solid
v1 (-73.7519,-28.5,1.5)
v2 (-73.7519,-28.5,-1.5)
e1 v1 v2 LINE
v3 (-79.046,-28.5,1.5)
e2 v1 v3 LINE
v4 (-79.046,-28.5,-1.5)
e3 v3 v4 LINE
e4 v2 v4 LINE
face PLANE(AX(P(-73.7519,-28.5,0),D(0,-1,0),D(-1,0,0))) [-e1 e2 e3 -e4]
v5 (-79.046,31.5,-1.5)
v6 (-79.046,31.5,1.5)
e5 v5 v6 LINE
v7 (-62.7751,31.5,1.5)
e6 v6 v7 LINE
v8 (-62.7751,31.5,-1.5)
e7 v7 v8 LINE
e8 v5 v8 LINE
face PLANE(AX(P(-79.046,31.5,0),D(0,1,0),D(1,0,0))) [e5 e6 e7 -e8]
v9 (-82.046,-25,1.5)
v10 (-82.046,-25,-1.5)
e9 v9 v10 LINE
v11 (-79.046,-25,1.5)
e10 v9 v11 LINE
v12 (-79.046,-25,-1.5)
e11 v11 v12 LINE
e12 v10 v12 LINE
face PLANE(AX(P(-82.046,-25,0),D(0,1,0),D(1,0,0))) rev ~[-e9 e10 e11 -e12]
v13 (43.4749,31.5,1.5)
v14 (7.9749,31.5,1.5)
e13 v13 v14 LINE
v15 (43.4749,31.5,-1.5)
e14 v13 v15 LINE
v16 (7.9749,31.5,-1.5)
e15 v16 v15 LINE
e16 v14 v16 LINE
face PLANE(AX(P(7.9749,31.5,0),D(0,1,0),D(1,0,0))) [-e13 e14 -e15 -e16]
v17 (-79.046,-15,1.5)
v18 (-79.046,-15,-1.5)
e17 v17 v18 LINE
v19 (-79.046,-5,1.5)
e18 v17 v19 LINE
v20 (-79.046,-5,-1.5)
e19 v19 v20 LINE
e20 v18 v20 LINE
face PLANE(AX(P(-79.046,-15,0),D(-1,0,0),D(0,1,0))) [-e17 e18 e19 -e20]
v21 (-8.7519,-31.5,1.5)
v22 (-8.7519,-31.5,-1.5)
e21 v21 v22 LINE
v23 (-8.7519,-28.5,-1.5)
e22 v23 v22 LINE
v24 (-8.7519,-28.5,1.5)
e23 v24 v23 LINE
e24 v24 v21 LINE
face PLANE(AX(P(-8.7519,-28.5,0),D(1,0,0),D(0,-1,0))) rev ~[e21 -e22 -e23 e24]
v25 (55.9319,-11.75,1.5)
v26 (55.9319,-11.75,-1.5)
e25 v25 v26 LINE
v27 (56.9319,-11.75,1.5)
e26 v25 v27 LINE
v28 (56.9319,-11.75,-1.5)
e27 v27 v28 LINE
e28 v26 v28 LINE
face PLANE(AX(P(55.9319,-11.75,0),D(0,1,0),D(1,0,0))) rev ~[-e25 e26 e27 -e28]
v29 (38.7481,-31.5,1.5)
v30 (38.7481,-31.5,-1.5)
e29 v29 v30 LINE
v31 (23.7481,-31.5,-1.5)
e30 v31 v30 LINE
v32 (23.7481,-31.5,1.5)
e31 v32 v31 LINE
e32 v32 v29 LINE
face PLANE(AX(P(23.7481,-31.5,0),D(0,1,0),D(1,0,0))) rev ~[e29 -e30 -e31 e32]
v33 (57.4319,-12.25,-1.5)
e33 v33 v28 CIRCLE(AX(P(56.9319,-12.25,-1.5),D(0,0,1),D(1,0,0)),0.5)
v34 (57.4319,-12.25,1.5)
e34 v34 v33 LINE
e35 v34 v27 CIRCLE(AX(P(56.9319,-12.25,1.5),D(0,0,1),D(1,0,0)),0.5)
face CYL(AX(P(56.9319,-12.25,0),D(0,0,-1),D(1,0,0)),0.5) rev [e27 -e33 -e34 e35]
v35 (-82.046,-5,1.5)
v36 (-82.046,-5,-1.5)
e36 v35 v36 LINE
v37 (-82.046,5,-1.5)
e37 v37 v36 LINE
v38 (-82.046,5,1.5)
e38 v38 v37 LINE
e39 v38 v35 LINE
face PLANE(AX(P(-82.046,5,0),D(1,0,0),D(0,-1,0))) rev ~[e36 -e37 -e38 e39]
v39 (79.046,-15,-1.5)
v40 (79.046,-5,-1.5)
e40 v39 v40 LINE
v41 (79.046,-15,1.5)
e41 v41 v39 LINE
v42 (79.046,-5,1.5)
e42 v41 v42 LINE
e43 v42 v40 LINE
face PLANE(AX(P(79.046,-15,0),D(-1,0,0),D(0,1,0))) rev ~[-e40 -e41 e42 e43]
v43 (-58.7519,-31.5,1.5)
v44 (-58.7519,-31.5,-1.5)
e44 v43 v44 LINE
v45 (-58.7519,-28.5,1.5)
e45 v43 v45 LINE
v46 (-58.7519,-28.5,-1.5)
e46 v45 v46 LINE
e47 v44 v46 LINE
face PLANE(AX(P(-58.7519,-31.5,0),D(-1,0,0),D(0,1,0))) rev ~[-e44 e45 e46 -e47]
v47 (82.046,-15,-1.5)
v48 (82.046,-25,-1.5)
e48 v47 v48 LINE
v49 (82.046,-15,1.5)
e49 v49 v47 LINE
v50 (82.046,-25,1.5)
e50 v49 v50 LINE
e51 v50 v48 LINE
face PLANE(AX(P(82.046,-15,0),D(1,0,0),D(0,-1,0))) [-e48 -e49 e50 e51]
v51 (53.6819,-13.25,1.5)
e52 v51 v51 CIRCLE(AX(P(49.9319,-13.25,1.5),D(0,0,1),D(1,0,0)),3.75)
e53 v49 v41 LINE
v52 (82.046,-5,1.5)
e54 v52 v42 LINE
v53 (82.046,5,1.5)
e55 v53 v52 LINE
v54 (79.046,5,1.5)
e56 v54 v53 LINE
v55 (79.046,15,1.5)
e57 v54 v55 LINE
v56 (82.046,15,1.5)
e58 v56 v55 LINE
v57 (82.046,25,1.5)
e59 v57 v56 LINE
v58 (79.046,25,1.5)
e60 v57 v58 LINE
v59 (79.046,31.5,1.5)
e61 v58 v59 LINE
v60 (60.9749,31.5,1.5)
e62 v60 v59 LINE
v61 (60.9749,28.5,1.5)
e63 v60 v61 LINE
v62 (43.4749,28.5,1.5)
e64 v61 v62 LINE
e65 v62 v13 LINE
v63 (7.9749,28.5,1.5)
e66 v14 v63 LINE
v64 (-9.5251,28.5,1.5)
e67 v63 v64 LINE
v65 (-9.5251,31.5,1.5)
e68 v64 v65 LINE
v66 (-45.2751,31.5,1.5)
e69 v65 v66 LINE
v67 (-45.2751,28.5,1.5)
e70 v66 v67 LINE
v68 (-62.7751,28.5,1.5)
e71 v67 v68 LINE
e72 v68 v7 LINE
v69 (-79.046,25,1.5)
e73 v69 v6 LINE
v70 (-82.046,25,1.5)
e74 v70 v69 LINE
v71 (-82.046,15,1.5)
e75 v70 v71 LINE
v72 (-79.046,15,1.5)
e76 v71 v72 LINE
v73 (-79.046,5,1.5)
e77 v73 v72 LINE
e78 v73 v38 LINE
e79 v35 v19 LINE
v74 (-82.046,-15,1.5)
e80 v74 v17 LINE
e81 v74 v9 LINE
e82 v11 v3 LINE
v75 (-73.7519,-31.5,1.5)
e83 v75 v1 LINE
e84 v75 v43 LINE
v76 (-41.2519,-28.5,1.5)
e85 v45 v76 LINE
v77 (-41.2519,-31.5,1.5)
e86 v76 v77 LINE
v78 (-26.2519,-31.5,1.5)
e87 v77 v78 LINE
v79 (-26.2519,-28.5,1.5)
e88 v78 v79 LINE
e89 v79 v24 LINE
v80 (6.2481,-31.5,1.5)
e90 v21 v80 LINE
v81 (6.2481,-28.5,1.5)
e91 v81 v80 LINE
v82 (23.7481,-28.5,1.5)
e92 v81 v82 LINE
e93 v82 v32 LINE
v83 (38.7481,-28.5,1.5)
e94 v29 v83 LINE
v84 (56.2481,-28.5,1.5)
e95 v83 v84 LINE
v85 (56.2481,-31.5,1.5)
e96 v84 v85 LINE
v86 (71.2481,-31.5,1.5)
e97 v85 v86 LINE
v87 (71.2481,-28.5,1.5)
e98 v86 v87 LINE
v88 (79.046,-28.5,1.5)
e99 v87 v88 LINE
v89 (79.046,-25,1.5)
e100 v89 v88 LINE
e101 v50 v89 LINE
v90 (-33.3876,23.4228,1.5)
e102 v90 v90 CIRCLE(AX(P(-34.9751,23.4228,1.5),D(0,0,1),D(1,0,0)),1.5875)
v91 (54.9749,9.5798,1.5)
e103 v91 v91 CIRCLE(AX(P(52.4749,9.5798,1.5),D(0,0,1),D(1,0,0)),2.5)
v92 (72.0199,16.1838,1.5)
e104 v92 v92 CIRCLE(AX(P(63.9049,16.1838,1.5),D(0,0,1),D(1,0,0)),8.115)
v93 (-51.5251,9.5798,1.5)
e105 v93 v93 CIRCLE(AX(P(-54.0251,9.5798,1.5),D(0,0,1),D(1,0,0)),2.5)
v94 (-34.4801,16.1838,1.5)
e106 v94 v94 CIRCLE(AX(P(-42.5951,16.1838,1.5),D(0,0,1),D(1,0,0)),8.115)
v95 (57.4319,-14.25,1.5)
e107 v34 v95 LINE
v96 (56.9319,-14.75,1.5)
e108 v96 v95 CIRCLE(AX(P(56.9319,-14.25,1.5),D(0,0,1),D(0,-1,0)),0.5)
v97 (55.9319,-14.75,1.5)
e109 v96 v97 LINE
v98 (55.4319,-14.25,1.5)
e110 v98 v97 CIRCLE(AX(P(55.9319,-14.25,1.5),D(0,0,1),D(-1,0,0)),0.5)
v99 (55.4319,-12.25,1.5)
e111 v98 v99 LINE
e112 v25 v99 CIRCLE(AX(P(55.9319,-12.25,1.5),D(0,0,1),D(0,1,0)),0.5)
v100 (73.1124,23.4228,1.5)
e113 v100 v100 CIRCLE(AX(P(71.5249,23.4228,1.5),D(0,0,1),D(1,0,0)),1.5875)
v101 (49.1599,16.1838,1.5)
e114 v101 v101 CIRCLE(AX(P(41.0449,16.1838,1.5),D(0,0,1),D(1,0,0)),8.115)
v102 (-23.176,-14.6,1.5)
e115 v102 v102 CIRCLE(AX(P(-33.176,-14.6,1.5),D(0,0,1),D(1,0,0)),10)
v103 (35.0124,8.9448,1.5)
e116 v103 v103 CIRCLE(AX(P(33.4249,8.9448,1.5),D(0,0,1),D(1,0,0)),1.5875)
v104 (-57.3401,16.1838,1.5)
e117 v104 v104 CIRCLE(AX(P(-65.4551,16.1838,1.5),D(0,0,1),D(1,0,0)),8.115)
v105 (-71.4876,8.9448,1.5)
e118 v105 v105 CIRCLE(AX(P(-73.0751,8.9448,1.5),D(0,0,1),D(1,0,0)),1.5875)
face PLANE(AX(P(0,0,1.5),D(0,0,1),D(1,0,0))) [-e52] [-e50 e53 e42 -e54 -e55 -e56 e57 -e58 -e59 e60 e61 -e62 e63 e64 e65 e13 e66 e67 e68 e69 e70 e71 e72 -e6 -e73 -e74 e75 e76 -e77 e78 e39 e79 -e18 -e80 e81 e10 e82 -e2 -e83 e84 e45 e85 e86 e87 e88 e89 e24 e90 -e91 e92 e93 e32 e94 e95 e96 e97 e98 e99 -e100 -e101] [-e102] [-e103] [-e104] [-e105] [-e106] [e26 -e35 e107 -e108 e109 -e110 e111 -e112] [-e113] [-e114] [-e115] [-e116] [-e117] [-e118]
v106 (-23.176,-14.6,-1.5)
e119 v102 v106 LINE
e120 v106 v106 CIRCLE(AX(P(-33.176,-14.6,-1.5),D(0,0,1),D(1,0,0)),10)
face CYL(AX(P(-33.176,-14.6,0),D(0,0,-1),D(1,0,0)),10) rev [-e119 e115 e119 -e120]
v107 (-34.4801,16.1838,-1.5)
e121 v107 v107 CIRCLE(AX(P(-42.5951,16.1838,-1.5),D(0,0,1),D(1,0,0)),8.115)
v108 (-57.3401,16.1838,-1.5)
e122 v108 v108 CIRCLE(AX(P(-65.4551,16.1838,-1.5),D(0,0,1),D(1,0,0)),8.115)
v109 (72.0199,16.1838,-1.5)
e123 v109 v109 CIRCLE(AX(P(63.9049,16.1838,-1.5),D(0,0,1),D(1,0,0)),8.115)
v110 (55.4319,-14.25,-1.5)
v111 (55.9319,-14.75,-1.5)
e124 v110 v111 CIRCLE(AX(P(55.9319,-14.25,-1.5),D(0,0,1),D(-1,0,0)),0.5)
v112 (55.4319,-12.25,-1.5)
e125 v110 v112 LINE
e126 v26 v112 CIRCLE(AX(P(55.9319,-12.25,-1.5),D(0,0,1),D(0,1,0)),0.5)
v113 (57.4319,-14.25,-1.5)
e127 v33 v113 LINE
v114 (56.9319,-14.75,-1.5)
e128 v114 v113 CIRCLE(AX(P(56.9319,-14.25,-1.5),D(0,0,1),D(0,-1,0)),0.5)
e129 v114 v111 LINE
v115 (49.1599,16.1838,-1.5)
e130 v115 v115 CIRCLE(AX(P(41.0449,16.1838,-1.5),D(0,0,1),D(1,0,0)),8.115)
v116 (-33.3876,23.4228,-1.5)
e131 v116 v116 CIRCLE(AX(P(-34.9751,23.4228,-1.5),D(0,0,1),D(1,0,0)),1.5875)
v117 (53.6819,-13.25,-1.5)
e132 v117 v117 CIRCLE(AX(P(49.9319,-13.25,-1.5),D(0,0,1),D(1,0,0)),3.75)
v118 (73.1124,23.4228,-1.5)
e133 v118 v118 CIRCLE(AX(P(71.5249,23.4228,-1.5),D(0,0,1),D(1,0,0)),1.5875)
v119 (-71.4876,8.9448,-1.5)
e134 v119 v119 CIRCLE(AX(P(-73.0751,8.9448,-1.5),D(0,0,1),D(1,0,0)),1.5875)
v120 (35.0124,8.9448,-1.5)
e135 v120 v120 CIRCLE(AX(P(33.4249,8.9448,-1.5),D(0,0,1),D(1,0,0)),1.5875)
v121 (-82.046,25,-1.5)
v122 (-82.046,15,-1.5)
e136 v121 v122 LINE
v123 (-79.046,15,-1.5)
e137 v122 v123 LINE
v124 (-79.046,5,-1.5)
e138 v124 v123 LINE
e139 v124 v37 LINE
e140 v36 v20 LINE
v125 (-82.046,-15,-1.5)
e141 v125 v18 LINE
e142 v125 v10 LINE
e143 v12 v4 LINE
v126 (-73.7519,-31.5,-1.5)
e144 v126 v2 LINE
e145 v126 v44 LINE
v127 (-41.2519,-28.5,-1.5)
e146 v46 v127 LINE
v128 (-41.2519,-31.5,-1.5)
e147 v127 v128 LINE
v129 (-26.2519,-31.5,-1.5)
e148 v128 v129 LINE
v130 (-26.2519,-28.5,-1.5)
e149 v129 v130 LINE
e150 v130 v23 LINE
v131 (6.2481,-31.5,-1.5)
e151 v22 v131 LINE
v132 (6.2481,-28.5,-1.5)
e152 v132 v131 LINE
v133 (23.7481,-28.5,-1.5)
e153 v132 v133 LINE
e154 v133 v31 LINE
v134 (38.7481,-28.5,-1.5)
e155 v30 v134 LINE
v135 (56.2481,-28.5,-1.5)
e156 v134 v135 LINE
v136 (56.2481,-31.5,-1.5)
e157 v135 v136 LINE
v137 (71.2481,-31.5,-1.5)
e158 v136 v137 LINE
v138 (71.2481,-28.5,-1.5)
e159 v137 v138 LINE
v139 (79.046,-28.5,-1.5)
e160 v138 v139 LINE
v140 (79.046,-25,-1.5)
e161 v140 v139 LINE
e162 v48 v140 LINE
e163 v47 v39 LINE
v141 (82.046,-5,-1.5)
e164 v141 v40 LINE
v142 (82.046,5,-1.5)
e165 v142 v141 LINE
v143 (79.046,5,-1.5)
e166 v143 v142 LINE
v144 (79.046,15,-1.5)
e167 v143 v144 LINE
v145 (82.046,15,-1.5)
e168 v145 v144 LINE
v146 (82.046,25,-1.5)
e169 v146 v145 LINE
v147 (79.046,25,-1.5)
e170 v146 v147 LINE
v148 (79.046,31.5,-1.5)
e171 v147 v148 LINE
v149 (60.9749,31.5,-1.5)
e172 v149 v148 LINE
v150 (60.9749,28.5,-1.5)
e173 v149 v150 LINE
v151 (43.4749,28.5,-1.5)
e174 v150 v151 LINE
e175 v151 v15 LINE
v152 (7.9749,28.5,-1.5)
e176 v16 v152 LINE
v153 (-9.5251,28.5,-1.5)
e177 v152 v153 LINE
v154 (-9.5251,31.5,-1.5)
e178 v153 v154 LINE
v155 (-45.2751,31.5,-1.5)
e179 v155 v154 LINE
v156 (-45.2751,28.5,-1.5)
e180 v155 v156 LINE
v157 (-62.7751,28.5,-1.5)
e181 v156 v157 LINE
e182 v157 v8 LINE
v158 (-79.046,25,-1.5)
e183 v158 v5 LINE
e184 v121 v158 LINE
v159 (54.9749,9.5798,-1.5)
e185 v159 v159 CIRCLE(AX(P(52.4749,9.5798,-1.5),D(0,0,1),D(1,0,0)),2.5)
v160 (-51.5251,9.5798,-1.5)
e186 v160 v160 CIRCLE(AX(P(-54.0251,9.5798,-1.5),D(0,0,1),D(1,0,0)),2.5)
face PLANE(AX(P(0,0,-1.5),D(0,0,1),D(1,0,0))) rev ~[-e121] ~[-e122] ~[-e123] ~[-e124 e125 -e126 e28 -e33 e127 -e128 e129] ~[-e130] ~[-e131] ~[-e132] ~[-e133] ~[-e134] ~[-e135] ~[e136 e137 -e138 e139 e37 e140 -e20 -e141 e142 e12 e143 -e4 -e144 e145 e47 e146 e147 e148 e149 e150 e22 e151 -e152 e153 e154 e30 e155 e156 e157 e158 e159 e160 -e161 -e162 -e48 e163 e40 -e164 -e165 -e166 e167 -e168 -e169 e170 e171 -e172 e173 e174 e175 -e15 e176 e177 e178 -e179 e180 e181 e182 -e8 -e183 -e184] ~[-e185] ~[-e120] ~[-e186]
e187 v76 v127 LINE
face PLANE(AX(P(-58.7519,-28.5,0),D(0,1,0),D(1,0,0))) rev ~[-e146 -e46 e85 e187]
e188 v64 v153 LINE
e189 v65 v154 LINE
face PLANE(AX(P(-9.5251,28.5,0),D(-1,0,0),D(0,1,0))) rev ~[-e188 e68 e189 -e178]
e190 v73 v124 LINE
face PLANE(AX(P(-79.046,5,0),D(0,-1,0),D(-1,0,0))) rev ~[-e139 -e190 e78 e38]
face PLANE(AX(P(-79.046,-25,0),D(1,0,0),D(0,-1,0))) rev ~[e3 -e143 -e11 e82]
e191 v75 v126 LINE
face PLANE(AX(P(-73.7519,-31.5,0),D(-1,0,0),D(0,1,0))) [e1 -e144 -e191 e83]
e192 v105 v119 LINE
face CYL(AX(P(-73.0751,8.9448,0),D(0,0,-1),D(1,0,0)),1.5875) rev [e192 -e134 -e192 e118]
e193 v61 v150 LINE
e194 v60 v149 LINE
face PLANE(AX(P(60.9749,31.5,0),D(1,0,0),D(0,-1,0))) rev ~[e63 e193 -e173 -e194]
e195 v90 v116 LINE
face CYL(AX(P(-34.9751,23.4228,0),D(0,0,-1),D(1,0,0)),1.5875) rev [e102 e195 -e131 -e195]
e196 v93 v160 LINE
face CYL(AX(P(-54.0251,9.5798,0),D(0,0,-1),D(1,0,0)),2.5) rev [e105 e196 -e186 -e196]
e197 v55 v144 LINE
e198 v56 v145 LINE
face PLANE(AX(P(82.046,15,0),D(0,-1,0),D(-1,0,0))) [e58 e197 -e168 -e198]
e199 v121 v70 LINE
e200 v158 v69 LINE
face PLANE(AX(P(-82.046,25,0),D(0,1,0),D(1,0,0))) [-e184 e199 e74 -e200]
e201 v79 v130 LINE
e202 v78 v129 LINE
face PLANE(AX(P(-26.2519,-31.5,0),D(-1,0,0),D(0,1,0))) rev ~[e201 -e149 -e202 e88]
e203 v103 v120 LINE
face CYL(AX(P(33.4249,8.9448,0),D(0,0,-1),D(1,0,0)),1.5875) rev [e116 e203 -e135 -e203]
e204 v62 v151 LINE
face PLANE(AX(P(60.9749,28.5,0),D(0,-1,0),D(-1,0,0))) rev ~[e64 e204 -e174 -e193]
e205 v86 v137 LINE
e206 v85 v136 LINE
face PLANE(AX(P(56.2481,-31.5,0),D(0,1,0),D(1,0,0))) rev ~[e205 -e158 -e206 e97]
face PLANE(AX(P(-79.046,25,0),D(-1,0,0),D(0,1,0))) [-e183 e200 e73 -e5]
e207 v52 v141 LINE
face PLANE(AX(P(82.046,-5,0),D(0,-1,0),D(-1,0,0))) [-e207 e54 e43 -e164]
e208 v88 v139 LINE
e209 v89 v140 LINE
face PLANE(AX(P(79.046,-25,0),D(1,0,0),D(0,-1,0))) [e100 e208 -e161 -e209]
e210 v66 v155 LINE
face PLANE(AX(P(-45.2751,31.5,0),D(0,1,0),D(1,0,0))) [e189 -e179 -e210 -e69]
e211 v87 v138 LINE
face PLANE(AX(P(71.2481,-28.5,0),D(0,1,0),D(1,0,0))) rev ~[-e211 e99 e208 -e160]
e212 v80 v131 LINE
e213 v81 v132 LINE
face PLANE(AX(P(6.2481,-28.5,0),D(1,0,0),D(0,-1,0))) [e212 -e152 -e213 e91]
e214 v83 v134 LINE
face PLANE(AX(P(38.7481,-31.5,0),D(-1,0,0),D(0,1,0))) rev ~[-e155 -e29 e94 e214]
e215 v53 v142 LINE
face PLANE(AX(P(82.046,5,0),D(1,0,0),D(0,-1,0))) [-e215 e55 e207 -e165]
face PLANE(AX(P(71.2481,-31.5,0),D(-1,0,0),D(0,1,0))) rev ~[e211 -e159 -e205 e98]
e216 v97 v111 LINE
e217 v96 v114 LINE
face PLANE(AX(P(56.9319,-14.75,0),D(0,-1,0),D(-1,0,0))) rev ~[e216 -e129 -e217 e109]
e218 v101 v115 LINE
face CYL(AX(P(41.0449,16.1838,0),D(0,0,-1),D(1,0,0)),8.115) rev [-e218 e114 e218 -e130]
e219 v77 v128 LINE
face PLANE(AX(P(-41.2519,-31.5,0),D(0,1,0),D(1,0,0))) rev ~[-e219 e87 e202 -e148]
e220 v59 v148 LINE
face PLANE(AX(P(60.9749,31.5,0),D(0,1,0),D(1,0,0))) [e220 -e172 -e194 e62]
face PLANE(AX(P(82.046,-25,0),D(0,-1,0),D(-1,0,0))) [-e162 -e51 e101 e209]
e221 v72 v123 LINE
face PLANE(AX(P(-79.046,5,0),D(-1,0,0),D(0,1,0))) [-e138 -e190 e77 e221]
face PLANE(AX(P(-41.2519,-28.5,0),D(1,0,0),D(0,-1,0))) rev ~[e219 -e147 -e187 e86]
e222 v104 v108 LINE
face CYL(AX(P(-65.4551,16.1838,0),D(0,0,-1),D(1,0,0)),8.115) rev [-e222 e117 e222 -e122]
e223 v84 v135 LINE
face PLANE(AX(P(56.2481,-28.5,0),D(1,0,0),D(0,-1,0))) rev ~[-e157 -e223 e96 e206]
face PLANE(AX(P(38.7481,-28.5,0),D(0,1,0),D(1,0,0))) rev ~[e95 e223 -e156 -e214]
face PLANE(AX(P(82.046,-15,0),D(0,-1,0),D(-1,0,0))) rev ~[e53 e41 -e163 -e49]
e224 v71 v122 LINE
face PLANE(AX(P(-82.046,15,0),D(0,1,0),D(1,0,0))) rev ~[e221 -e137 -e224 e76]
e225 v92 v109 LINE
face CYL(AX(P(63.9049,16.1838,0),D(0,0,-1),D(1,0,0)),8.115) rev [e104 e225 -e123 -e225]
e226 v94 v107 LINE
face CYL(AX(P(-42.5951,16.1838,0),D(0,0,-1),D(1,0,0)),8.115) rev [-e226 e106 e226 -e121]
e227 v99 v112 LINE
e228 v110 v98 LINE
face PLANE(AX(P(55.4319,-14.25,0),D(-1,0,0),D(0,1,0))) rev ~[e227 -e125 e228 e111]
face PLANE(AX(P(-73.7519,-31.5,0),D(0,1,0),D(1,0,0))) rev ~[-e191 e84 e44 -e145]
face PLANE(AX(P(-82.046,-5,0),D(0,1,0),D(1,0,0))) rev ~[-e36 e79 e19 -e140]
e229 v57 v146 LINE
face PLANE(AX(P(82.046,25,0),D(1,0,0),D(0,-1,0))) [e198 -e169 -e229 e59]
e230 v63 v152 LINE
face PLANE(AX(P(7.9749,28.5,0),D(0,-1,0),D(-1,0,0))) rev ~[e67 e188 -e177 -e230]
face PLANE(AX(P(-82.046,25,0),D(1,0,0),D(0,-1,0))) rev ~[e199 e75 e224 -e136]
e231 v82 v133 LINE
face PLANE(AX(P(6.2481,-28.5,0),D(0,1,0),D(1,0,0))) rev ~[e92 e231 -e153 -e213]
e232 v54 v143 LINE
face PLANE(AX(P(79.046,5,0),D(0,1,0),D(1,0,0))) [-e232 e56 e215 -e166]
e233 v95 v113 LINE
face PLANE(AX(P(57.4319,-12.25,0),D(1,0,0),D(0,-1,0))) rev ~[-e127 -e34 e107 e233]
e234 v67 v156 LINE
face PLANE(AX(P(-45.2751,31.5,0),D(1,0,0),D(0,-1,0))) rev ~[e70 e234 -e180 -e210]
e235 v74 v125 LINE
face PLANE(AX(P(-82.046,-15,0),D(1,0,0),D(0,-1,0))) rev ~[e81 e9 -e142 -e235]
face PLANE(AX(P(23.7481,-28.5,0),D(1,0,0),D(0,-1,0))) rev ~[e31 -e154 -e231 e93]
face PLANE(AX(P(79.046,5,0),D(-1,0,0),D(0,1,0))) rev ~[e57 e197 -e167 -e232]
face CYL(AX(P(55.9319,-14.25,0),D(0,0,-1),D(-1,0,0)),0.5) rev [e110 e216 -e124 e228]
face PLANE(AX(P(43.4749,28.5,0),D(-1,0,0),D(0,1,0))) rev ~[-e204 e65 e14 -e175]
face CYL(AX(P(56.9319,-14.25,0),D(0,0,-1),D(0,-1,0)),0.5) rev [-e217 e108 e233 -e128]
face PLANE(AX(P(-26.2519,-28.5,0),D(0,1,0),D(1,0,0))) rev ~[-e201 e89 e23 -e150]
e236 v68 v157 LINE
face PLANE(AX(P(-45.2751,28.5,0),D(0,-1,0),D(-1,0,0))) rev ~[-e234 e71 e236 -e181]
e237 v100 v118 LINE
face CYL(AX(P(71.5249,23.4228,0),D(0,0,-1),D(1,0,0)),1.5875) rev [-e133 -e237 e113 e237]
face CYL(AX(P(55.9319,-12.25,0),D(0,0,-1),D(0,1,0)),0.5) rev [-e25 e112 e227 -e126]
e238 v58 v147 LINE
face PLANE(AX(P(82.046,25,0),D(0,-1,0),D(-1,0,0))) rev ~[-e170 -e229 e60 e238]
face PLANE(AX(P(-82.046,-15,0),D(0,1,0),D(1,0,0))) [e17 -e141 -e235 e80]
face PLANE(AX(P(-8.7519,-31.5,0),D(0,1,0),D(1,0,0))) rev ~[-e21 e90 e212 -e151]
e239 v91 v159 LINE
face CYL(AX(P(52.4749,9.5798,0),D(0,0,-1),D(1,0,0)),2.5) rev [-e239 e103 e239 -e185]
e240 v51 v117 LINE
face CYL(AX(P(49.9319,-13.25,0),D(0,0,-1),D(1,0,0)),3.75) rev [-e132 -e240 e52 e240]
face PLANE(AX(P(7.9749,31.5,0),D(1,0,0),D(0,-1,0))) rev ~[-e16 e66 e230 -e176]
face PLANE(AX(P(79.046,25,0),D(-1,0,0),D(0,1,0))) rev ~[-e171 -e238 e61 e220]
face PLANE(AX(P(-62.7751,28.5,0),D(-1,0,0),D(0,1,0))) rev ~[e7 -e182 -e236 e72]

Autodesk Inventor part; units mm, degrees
ref_plane "YZ Plane" through (0, 0, 0) normal (1, 0, 0) x (0, 1, 0)
ref_plane "XZ Plane" through (0, 0, 0) normal (0, 1, 0) x (-1, 0, 0)
ref_plane "XY Plane" through (0, 0, 0) normal (0, 0, 1) x (1, 0, 0)
sketch "Sketch1" plane through (0, 0, 0) normal (0, 0, 1) x (1, 0, 0)
  line L0 (-79.046, 31.5) -> (-62.7751, 31.5)
  line L1 (-62.7751, 28.5) -> (-62.7751, 31.5)
  line L2 (-45.2751, 28.5) -> (-62.7751, 28.5)
  line L3 (-45.2751, 31.5) -> (-45.2751, 28.5)
  line L4 (-45.2751, 31.5) -> (-26.3822, 31.5)
  line L5 (-26.3822, 31.5) -> (-9.5251, 31.5)
  line L6 (-9.5251, 28.5) -> (-9.5251, 31.5)
  line L7 (7.9749, 28.5) -> (-9.5251, 28.5)
  line L8 (7.9749, 31.5) -> (7.9749, 28.5)
  line L9 (7.9749, 31.5) -> (24.8319, 31.5)
  line L10 (24.8319, 31.5) -> (43.4749, 31.5)
  line L11 (43.4749, 28.5) -> (43.4749, 31.5)
  line L12 (60.9749, 28.5) -> (43.4749, 28.5)
  line L13 (60.9749, 31.5) -> (60.9749, 28.5)
  line L14 (60.9749, 31.5) -> (79.046, 31.5)
  circle A0 centre (-73.0751, 8.9448) radius 1.5875
  circle A1 centre (-65.4551, 16.1838) radius 8.115
  circle A2 centre (-42.5951, 16.1838) radius 8.115
  circle A3 centre (-54.0251, 9.5798) radius 2.5
  circle A4 centre (-34.9751, 23.4228) radius 1.5875
  circle A5 centre (33.4249, 8.9448) radius 1.5875
  circle A6 centre (52.4749, 9.5798) radius 2.5
  circle A7 centre (41.0449, 16.1838) radius 8.115
  circle A8 centre (63.9049, 16.1838) radius 8.115
  circle A9 centre (71.5249, 23.4228) radius 1.5875
  circle A10 centre (49.9319, -13.25) radius 3.75
  line L15 (55.4319, -14.25) -> (55.4319, -12.25)
  arc A11 (55.9319, -11.75) -> (55.4319, -12.25) centre (55.9319, -12.25) ccw
  line L16 (55.9319, -11.75) -> (56.9319, -11.75)
  arc A12 (57.4319, -12.25) -> (56.9319, -11.75) centre (56.9319, -12.25) ccw
  line L17 (57.4319, -12.25) -> (57.4319, -14.25)
  arc A13 (56.9319, -14.75) -> (57.4319, -14.25) centre (56.9319, -14.25) ccw
  line L18 (56.9319, -14.75) -> (55.9319, -14.75)
  arc A14 (55.4319, -14.25) -> (55.9319, -14.75) centre (55.9319, -14.25) ccw
  circle A15 centre (-33.176, -14.6) radius 10
  line L19 (-79.046, 31.5) -> (79.046, -31.5) construction
  line L20 (79.046, 31.5) -> (-79.046, -31.5) construction
  line L21 (-8.7519, -31.5) -> (6.2481, -31.5)
  line L22 (-8.7519, -31.5) -> (6.2481, -28.5) construction
  line L23 (6.2481, -31.5) -> (-8.7519, -28.5) construction
  line L24 (-41.2519, -31.5) -> (-26.2519, -31.5)
  line L25 (-73.7519, -31.5) -> (-58.7519, -31.5)
  line L26 (23.7481, -31.5) -> (38.7481, -31.5)
  line L27 (-8.7519, -31.5) -> (6.2481, -31.5)
  line L28 (-41.2519, -31.5) -> (-26.2519, -31.5)
  line L29 (56.2481, -31.5) -> (71.2481, -31.5)
  line L30 (23.7481, -31.5) -> (38.7481, -31.5)
  line L31 (-8.7519, -31.5) -> (6.2481, -31.5)
  line L32 (-58.7519, -31.5) -> (-58.7519, -28.5)
  line L33 (-58.7519, -28.5) -> (-41.2519, -28.5)
  line L34 (-41.2519, -28.5) -> (-41.2519, -31.5)
  line L35 (-26.2519, -31.5) -> (-26.2519, -28.5)
  line L36 (-26.2519, -28.5) -> (-8.7519, -28.5)
  line L37 (-8.7519, -28.5) -> (-8.7519, -31.5)
  line L38 (6.2481, -28.5) -> (23.7481, -28.5)
  line L39 (23.7481, -28.5) -> (23.7481, -31.5)
  line L40 (38.7481, -31.5) -> (38.7481, -28.5)
  line L41 (38.7481, -28.5) -> (56.2481, -28.5)
  line L42 (56.2481, -28.5) -> (56.2481, -31.5)
  line L43 (71.2481, -31.5) -> (71.2481, -28.5)
  line L44 (71.2481, -28.5) -> (79.046, -28.5)
  line L45 (-73.7519, -31.5) -> (-73.7519, -28.5)
  line L46 (-73.7519, -28.5) -> (-79.046, -28.5)
  line L47 (-79.046, 5) -> (-82.046, 5)
  line L48 (-82.046, 5) -> (-82.046, -5)
  line L49 (-82.046, -5) -> (-79.046, -5)
  line L50 (-79.046, 5) -> (-82.046, -5) construction
  line L51 (-82.046, 5) -> (-79.046, -5) construction
  line L52 (0, 0) -> (0, 17) construction
  line L53 (-82.046, 25) -> (-82.046, 15)
  line L54 (-82.046, -15) -> (-82.046, -25)
  line L55 (-82.046, 5) -> (-82.046, -5)
  line L56 (-82.046, 25) -> (-79.046, 25)
  line L57 (-82.046, 15) -> (-79.046, 15)
  line L58 (-82.046, -15) -> (-79.046, -15)
  line L59 (-82.046, -25) -> (-79.046, -25)
  line L60 (-79.046, -25) -> (-79.046, -28.5)
  line L61 (-79.046, -15) -> (-79.046, -5)
  line L62 (-79.046, 5) -> (-79.046, 15)
  line L63 (-79.046, 25) -> (-79.046, 31.5)
  line L64 (79.046, 5) -> (82.046, 5)
  line L65 (82.046, 5) -> (82.046, -5)
  line L66 (82.046, -5) -> (79.046, -5)
  line L67 (79.046, 5) -> (82.046, -5) construction
  line L68 (82.046, 5) -> (79.046, -5) construction
  line L69 (82.046, 25) -> (82.046, 15)
  line L70 (82.046, -15) -> (82.046, -25)
  line L71 (82.046, 5) -> (82.046, -5)
  line L72 (82.046, 25) -> (79.046, 25)
  line L73 (82.046, 15) -> (79.046, 15)
  line L74 (82.046, -15) -> (79.046, -15)
  line L75 (82.046, -25) -> (79.046, -25)
  line L76 (79.046, -25) -> (79.046, -28.5)
  line L77 (79.046, -15) -> (79.046, -5)
  line L78 (79.046, 5) -> (79.046, 15)
  line L79 (79.046, 25) -> (79.046, 31.5)
  line L80 (6.2481, -28.5) -> (6.2481, -31.5)
  point P0 (0, 0)
  point P1 (-1.2519, -30)
  point P2 (-80.546, 0)
  point P3 (80.546, 0)
  dimension "d2" = 20
  dimension "d4" = 15
  dimension "d5" = 3
  dimension "d10" = 32.5
  dimension "d13" = 32.5
  dimension "d17" = 3
  dimension "d18" = 10
  dimension "d21" = 20
  dimension "d24" = 20
extrude "Extrusion1" add sketch "Sketch1" along normal mid plane 3
properties part number "srfsamping"
